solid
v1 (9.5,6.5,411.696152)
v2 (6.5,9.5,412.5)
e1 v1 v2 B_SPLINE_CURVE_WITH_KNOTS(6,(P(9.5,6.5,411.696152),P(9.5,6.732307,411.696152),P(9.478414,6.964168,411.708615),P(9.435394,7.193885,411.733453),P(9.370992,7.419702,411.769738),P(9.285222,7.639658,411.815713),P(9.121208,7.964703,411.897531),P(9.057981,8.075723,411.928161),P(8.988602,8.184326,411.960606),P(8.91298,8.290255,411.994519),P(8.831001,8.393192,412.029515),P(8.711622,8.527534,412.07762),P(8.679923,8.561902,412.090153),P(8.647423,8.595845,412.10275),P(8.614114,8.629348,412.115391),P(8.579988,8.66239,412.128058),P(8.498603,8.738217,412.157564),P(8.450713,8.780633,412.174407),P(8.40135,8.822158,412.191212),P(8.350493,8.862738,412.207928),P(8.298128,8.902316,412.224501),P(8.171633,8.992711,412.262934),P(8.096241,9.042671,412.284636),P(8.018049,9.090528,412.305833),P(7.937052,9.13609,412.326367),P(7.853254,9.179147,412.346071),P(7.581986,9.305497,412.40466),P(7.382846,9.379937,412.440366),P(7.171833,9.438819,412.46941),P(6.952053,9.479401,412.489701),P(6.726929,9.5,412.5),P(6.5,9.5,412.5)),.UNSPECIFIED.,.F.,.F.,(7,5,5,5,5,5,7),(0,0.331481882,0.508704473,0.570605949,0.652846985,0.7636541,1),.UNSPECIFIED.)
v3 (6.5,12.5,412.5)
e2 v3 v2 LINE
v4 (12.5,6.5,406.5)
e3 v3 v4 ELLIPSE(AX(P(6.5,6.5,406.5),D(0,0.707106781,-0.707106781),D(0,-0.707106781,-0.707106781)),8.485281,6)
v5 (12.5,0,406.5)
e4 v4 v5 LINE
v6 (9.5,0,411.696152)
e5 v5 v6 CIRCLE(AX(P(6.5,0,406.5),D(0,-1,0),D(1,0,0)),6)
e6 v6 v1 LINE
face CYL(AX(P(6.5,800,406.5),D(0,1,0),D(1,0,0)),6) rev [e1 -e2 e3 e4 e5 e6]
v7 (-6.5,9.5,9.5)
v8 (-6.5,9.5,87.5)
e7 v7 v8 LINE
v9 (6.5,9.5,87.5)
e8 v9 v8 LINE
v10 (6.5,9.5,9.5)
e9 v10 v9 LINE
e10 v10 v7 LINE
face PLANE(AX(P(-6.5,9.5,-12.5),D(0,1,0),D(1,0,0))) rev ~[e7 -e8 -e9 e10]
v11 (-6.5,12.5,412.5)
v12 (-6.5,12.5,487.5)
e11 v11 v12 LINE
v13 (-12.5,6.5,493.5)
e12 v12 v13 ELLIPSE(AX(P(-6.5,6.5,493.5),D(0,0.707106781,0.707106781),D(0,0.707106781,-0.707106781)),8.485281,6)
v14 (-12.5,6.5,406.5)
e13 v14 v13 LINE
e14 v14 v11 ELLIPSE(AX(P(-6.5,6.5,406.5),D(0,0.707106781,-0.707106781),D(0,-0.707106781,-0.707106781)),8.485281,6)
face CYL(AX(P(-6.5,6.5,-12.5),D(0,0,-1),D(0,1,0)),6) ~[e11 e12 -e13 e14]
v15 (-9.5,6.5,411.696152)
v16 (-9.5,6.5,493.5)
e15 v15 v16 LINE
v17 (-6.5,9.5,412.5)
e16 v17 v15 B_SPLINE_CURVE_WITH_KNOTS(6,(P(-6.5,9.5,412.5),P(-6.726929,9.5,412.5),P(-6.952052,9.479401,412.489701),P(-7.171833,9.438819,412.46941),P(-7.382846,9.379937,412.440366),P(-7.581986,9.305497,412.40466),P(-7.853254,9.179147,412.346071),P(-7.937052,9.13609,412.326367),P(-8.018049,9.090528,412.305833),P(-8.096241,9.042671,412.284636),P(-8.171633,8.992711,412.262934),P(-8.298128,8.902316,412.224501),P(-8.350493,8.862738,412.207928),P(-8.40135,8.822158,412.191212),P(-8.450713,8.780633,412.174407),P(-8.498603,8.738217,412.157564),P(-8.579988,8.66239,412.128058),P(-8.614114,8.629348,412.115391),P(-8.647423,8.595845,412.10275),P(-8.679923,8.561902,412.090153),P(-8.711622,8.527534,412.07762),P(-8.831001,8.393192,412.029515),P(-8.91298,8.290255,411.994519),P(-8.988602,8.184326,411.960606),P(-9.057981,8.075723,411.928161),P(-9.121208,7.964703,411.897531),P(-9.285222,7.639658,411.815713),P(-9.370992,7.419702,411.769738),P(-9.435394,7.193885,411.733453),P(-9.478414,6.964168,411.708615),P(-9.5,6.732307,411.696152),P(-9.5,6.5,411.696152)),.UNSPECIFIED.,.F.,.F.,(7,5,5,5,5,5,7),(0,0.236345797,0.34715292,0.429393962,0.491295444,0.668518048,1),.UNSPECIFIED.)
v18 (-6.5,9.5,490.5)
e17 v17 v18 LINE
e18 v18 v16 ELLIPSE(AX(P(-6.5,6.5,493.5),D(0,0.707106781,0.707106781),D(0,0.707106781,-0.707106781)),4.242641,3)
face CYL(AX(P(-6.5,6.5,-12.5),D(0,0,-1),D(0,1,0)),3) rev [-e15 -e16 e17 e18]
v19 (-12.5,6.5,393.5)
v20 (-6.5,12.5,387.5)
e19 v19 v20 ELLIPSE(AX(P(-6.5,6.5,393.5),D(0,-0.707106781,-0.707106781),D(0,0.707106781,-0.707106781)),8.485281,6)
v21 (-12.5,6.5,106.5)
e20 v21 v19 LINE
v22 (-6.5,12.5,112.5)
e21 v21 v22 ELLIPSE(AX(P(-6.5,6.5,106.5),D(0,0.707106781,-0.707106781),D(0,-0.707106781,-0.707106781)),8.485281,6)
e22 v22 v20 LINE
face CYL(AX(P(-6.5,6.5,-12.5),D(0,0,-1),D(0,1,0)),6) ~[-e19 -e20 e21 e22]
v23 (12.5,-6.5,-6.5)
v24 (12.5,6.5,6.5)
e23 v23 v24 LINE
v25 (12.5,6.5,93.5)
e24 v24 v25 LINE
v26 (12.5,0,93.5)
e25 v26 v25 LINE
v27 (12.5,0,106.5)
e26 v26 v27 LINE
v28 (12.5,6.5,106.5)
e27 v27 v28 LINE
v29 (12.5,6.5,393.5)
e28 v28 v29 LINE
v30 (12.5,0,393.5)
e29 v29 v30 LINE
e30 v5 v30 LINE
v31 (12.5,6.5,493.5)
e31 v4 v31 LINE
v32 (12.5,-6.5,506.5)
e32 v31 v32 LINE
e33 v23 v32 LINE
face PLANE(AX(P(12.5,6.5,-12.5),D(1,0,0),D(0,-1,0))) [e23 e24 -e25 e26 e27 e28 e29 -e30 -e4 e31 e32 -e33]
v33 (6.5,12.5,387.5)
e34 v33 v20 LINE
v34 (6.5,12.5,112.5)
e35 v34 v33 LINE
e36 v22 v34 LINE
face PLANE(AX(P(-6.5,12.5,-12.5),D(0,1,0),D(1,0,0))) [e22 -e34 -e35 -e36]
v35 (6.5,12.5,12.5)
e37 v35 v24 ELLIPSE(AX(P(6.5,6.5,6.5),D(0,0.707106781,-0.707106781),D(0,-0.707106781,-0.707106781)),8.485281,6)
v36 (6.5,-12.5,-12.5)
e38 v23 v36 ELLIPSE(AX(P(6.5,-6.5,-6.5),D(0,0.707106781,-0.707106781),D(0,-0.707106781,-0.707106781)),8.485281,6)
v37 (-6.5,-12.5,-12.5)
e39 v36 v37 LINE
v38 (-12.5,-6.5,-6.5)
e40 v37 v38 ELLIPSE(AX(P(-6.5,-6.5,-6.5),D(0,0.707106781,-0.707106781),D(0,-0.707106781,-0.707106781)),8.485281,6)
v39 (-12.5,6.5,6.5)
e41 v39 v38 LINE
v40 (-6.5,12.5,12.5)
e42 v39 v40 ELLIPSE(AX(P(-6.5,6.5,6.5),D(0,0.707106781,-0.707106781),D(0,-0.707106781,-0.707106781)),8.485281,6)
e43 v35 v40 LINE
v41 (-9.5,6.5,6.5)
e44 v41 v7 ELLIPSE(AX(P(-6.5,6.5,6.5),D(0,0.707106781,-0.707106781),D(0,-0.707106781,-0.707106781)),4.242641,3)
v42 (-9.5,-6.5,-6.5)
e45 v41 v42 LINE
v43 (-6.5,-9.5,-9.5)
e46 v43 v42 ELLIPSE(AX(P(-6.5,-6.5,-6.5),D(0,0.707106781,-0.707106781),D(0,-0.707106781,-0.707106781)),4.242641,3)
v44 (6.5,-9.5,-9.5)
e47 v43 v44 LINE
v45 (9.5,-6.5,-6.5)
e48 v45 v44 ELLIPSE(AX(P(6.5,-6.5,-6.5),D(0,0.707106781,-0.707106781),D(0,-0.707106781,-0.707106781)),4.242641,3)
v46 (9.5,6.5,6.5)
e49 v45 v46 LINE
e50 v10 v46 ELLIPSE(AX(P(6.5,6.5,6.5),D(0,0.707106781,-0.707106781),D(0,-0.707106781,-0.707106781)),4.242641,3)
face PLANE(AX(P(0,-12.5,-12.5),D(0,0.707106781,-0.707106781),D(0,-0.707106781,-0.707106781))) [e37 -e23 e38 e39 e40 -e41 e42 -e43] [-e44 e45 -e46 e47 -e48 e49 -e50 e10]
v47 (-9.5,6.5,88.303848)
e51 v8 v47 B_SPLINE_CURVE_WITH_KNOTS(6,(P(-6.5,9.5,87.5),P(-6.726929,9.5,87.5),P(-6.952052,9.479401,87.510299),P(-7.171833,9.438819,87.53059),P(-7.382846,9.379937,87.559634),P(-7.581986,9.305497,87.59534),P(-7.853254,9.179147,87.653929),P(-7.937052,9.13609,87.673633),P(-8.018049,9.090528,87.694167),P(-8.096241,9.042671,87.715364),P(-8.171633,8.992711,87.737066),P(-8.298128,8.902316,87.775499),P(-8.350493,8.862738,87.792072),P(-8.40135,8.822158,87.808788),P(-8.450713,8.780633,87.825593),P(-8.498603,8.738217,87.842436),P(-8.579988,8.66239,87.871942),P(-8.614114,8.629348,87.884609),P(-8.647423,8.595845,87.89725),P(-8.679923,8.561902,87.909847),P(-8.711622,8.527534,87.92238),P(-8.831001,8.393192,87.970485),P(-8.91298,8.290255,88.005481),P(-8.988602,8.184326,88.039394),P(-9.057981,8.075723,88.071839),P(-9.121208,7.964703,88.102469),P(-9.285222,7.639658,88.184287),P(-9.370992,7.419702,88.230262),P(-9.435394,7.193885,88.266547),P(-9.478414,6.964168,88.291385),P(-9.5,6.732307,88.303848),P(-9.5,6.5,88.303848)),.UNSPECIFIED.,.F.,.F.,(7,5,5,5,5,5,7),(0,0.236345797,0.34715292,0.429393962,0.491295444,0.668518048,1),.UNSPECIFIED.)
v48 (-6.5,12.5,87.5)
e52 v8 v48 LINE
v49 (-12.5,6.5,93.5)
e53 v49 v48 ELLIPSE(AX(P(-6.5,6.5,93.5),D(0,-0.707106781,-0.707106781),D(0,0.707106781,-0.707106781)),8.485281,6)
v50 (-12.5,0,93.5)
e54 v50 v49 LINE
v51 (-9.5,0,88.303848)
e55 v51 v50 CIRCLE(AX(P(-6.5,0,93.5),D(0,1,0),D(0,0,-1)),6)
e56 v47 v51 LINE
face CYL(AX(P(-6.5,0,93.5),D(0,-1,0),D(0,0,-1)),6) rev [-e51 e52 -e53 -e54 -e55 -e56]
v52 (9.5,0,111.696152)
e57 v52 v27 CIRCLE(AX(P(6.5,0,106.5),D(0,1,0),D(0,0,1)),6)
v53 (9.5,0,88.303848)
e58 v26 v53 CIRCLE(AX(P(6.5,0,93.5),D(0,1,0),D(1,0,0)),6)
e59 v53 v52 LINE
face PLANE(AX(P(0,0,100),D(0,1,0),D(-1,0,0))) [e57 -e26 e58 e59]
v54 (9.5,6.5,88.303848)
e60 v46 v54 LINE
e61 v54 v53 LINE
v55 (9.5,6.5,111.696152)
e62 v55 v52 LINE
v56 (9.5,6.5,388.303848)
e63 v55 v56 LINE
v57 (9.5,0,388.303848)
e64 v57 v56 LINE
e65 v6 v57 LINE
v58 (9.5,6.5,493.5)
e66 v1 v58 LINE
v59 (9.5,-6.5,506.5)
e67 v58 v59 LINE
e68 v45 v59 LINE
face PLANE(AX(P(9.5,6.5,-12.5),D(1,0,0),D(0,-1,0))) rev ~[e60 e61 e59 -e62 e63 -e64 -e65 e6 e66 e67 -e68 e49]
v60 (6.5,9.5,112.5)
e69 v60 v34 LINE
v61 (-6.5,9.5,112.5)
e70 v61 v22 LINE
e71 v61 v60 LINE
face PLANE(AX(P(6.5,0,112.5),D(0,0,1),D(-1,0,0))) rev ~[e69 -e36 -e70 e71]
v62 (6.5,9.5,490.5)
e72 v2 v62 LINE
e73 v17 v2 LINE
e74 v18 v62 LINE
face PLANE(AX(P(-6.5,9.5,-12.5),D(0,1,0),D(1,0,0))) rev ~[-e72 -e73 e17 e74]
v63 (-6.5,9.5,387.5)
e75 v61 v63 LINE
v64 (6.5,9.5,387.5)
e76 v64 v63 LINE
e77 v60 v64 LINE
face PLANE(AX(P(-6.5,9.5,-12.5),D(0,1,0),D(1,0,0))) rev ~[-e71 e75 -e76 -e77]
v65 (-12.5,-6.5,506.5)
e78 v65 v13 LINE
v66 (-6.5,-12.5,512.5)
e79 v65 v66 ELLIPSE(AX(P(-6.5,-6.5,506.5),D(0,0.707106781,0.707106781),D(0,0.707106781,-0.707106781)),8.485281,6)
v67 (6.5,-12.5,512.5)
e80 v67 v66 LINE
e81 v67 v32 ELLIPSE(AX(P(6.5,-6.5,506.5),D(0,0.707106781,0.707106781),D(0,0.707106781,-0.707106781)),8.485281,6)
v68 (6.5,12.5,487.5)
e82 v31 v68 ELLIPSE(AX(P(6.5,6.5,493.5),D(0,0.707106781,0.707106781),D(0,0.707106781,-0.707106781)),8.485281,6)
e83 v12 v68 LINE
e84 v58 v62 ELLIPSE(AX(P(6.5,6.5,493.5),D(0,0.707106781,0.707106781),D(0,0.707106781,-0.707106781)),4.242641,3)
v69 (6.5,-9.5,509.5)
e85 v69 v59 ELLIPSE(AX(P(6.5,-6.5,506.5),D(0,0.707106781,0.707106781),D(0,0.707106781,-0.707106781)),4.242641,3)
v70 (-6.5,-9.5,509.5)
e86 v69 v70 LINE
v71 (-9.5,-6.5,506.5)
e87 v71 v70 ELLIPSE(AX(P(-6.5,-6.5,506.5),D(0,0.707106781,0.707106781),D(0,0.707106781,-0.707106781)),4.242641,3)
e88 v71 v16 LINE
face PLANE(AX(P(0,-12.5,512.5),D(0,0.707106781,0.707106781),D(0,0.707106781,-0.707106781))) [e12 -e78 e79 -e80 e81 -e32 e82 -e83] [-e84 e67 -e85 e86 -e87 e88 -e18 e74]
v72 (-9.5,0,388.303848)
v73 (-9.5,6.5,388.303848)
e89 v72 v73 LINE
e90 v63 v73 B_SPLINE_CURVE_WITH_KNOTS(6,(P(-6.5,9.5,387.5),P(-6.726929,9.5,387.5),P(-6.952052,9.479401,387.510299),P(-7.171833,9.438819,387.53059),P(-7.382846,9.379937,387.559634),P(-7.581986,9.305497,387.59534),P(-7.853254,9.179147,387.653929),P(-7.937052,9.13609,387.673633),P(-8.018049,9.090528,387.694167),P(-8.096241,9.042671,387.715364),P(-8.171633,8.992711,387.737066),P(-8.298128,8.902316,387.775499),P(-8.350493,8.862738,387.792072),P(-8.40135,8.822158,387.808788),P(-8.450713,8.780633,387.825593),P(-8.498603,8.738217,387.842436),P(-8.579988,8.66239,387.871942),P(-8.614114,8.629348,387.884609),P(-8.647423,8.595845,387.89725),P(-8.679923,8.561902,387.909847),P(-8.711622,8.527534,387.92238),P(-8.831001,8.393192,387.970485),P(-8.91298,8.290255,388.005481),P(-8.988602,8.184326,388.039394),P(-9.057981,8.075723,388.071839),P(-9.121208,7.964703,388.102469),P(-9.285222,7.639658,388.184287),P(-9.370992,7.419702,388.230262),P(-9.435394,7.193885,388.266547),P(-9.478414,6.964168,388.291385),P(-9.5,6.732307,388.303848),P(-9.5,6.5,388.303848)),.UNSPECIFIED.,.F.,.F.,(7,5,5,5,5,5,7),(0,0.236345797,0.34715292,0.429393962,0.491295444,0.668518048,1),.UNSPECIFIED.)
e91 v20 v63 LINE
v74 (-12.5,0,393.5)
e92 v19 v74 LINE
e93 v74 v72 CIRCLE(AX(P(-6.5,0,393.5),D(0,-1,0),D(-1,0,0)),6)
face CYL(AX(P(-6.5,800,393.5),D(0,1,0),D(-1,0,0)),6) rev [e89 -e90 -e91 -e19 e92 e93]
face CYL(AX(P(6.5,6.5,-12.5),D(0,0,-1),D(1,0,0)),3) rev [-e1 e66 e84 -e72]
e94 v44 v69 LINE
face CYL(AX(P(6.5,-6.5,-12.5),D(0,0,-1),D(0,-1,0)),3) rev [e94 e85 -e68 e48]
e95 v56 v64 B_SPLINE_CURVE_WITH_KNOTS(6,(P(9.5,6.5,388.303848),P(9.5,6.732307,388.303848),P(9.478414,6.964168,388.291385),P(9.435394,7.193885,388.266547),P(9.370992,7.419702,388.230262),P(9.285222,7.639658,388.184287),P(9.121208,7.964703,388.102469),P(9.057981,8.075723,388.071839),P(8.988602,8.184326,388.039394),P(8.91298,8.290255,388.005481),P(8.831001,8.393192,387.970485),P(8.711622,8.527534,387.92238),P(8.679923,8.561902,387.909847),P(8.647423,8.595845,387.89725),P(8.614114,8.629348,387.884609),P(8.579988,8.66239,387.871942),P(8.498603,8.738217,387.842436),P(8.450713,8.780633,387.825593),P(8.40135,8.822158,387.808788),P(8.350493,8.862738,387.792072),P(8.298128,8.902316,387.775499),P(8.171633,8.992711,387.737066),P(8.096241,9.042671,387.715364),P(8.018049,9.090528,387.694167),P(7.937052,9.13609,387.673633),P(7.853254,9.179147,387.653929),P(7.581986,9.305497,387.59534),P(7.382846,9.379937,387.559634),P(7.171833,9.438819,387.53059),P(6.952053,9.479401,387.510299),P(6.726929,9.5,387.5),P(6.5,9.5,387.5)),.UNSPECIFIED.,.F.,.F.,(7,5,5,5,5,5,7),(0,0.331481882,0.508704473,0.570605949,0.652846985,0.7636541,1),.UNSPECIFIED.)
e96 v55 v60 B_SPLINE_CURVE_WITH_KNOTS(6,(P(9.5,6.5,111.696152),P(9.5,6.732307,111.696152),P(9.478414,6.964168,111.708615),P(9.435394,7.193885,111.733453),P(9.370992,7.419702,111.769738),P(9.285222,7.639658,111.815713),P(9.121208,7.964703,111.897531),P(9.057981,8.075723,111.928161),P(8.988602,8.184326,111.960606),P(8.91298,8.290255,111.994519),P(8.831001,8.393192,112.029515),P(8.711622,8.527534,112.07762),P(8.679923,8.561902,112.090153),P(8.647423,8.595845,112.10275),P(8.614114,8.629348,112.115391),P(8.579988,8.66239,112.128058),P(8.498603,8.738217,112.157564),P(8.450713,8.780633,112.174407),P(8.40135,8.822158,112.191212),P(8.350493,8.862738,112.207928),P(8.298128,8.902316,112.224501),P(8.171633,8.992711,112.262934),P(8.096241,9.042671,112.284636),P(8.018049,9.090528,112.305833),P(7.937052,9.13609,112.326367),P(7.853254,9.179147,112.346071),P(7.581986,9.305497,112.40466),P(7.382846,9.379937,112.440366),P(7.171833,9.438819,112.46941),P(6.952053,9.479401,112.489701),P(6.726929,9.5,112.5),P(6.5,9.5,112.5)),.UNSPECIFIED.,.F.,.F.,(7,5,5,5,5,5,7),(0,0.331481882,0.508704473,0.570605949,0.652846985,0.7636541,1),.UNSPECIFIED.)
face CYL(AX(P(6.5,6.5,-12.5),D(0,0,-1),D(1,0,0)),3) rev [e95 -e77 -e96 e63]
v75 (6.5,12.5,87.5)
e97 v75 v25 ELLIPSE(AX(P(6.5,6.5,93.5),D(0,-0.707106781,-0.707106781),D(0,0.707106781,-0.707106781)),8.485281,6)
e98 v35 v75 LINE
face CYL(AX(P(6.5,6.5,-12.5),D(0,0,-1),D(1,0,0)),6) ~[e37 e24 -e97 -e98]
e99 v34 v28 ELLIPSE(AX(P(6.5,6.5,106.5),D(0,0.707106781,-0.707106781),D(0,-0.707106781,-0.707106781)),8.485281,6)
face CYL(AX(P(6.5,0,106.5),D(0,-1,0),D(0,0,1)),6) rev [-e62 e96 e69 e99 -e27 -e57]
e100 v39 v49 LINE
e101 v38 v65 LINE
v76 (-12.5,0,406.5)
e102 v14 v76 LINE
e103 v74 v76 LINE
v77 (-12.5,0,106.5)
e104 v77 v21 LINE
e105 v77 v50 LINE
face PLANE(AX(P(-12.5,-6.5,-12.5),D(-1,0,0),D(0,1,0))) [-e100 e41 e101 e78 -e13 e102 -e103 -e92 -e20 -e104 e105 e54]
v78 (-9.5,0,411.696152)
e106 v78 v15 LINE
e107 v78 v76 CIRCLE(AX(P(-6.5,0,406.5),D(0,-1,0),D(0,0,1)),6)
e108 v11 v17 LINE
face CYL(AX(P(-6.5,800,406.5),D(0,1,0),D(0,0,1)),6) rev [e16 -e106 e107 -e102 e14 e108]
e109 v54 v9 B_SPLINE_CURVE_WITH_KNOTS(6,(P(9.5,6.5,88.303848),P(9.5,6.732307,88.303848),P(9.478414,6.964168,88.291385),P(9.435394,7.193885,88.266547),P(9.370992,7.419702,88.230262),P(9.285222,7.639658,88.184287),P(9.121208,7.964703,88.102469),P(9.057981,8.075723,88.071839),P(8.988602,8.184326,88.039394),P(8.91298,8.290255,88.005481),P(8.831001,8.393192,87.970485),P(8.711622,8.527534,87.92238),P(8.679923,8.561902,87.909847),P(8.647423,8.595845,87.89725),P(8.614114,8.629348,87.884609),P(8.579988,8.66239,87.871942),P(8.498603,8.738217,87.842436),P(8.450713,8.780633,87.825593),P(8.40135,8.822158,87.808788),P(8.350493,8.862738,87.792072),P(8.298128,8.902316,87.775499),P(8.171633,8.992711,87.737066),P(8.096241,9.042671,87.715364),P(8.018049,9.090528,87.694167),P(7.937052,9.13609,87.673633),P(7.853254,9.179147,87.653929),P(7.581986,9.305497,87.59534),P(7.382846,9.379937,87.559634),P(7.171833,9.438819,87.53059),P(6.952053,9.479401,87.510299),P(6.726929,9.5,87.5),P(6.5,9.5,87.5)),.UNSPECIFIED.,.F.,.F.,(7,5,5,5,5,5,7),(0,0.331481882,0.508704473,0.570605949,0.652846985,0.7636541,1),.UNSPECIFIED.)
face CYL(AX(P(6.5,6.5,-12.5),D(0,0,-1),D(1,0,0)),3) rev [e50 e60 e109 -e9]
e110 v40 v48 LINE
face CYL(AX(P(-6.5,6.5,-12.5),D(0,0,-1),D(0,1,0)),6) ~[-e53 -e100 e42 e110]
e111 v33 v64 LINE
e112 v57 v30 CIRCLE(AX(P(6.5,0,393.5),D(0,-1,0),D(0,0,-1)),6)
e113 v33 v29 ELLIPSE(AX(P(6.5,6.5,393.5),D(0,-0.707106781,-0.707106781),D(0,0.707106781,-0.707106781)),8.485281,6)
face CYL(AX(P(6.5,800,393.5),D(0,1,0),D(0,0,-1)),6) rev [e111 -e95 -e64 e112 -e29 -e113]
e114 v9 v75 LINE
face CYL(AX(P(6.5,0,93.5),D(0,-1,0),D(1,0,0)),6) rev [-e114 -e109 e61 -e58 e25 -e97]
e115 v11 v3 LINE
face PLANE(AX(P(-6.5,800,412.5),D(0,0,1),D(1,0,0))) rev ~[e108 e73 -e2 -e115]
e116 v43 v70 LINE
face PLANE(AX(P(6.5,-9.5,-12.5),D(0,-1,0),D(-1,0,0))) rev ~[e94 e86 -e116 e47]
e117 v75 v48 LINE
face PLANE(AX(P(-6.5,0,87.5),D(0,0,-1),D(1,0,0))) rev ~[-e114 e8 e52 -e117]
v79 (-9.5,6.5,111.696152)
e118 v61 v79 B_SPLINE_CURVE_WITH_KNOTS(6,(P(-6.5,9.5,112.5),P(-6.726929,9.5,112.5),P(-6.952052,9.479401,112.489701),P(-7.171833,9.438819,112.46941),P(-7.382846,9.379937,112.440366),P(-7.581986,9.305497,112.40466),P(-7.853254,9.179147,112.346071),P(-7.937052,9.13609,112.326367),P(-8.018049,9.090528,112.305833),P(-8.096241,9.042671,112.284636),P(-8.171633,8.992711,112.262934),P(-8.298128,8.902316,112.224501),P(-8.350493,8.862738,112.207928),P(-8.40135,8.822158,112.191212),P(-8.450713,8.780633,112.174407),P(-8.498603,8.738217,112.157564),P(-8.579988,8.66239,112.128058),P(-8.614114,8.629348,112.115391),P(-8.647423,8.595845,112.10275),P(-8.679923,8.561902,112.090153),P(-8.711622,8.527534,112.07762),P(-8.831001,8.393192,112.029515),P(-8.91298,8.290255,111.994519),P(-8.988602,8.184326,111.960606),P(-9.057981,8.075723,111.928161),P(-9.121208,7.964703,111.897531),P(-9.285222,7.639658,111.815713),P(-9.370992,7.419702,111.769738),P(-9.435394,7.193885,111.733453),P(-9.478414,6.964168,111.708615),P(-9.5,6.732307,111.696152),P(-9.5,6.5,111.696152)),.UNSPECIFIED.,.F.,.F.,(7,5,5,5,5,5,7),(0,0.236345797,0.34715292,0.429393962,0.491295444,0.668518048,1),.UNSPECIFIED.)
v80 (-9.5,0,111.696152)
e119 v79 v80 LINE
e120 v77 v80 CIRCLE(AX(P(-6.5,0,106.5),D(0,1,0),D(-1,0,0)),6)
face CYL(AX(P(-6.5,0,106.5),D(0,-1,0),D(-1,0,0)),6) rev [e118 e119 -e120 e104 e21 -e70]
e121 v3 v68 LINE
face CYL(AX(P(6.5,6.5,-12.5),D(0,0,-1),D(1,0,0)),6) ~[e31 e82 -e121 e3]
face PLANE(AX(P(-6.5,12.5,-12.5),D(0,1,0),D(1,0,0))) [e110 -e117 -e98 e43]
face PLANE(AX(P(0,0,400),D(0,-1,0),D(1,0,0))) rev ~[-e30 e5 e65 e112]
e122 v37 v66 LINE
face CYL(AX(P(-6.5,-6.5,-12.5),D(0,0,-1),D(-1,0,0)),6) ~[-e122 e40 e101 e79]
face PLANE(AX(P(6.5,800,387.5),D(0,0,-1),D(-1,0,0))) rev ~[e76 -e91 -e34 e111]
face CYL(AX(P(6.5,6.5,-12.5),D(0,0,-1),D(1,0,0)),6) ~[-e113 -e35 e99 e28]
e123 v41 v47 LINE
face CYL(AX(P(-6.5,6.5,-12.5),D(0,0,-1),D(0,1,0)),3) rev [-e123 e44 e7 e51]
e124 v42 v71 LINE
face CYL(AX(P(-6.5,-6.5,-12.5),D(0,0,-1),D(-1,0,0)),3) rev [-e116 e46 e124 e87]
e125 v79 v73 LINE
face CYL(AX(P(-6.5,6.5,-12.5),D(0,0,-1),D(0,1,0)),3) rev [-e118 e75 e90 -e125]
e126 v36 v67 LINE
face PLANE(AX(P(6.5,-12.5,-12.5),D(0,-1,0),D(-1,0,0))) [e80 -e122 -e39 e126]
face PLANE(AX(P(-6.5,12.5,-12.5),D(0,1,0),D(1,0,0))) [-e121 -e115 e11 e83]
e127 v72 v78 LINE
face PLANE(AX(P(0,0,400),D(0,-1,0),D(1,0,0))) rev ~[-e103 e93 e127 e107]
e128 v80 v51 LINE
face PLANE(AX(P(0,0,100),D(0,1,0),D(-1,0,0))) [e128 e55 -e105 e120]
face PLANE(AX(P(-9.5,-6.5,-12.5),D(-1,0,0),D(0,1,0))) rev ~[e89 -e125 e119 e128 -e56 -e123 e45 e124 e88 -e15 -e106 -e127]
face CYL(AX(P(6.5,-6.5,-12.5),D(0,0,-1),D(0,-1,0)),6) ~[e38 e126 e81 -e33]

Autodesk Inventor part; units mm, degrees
ref_plane "Start plane" through (0, 0, -12.5) normal (0, 0, 1) x (1, 0, 0)
ref_plane "End plane" through (0, 0, 512.5) normal (0, 0, 1) x (1, 0, 0)
sketch "Sketch" plane through (0, 0, 0) normal (0, 0, 1) x (1, 0, 0)
  line L0 (-12.5, -6.5) -> (-12.5, 6.5)
  line L1 (-6.5, 12.5) -> (6.5, 12.5)
  line L2 (12.5, 6.5) -> (12.5, -6.5)
  line L3 (6.5, -12.5) -> (-6.5, -12.5)
  arc A0 (-12.5, -6.5) -> (-6.5, -12.5) centre (-6.5, -6.5) ccw
  arc A1 (-6.5, 12.5) -> (-12.5, 6.5) centre (-6.5, 6.5) ccw
  arc A2 (12.5, 6.5) -> (6.5, 12.5) centre (6.5, 6.5) ccw
  arc A3 (6.5, -12.5) -> (12.5, -6.5) centre (6.5, -6.5) ccw
  arc A4 (-6.5, 9.5) -> (-9.5, 6.5) centre (-6.5, 6.5) ccw
  line L4 (-6.5, 9.5) -> (6.5, 9.5)
  arc A5 (9.5, 6.5) -> (6.5, 9.5) centre (6.5, 6.5) ccw
  line L5 (9.5, 6.5) -> (9.5, -6.5)
  arc A6 (6.5, -9.5) -> (9.5, -6.5) centre (6.5, -6.5) ccw
  line L6 (6.5, -9.5) -> (-6.5, -9.5)
  arc A7 (-9.5, -6.5) -> (-6.5, -9.5) centre (-6.5, -6.5) ccw
  line L7 (-9.5, -6.5) -> (-9.5, 6.5)
  line L8 (0, 19.2397) -> (0, -19.2397) construction
  line L9 (-19.2397, 0) -> (19.2397, 0) construction
  dimension "d7" = 6
  dimension "d10" = 25
  dimension "d11" = 25
  dimension "d12" = 3
  dimension "d15" = 12.5
  dimension "d16" = 12.5
extrude "Body" add sketch "Sketch" along normal up to surface (525 mm away) from surface at -12.5
sketch "Sketch3" plane through (0, 0, 0) normal (0, 0, 1) x (1, 0, 0)
  line L0 (0, 0) -> (10, 0)
ref_plane "Work Plane3" through (0, 0, 0) normal (0, -1, 0) x (1, 0, 0)
sketch "Sketch4" plane through (0, 0, 0) normal (0, -1, 0) x (1, 0, 0)
  line L0 (-2, -12.5) -> (12, -12.5)
  line L1 (-2, 512.5) -> (12, 512.5)
  dimension "d18" = 525
ref_plane "Work Plane4" through (112.5, 0, -12.5) normal (0, 0, -1) x (-1, 0, 0)
split "Split1" plane through (112.5, 0, -12.5) removes the side toward (0, 0, -1)
ref_plane "Work Plane5" through (0, -12.5, 512.5) normal (0, 0.7071, 0.7071) x (1, 0, 0)
split "Split2" plane through (0, -12.5, 512.5) removes the side toward (0, 0.7071, 0.7071)
ref_plane "Work Plane6" through (0, -12.5, -12.5) normal (0, 0.7071, -0.7071) x (1, 0, 0)
split "Split3" plane through (0, -12.5, -12.5) removes the side toward (0, 0.7071, -0.7071)
ref_plane "Work Plane7" through (0, 800, 400) normal (0, -1, 0) x (1, 0, 0)
ref_plane "Work Plane8" through (0, 0, 400) normal (0, -1, 0) x (1, 0, 0)
ref_plane "Work Plane9" through (0, 400, 400) normal (0, -1, 0) x (1, 0, 0)
sketch "Sketch5" plane through (0, 400, 400) normal (0, -1, 0) x (1, 0, 0)
  arc A0 (-12.5, -6.5) -> (-6.5, -12.5) centre (-6.5, -6.5) ccw
  line L0 (-12.5, -6.5) -> (-12.5, 6.5)
  arc A1 (-6.5, 12.5) -> (-12.5, 6.5) centre (-6.5, 6.5) ccw
  line L1 (-6.5, 12.5) -> (6.5, 12.5)
  arc A2 (12.5, 6.5) -> (6.5, 12.5) centre (6.5, 6.5) ccw
  line L2 (12.5, 6.5) -> (12.5, -6.5)
  arc A3 (6.5, -12.5) -> (12.5, -6.5) centre (6.5, -6.5) ccw
  line L3 (6.5, -12.5) -> (-6.5, -12.5)
  arc A4 (-6.5, 9.5) -> (-9.5, 6.5) centre (-6.5, 6.5) ccw
  line L4 (-6.5, 9.5) -> (6.5, 9.5)
  arc A5 (9.5, 6.5) -> (6.5, 9.5) centre (6.5, 6.5) ccw
  line L5 (9.5, 6.5) -> (9.5, -6.5)
  arc A6 (6.5, -9.5) -> (9.5, -6.5) centre (6.5, -6.5) ccw
  line L6 (6.5, -9.5) -> (-6.5, -9.5)
  arc A7 (-9.5, -6.5) -> (-6.5, -9.5) centre (-6.5, -6.5) ccw
  line L7 (-9.5, -6.5) -> (-9.5, 6.5)
extrude "Extrusion2" cut sketch "Sketch5" along normal up to surface (800 mm away) from surface at -400 contours L0 A1 L1 A2 L2 A3 L3 A0 | L4 A5 L5 A6 L6 A7 L7 A4
ref_plane "Work Plane10" through (0, 0, 100) normal (0, 1, 0) x (-1, 0, 0)
ref_plane "Work Plane11" through (0, 800, 100) normal (0, 1, 0) x (-1, 0, 0)
ref_plane "Work Plane12" through (0, 400, 100) normal (0, 1, 0) x (-1, 0, 0)
sketch "Sketch6" plane through (0, 400, 100) normal (0, 1, 0) x (-1, 0, 0)
  arc A0 (-12.5, -6.5) -> (-6.5, -12.5) centre (-6.5, -6.5) ccw
  line L0 (-12.5, -6.5) -> (-12.5, 6.5)
  arc A1 (-6.5, 12.5) -> (-12.5, 6.5) centre (-6.5, 6.5) ccw
  line L1 (-6.5, 12.5) -> (6.5, 12.5)
  arc A2 (12.5, 6.5) -> (6.5, 12.5) centre (6.5, 6.5) ccw
  line L2 (12.5, 6.5) -> (12.5, -6.5)
  arc A3 (6.5, -12.5) -> (12.5, -6.5) centre (6.5, -6.5) ccw
  line L3 (6.5, -12.5) -> (-6.5, -12.5)
  arc A4 (-6.5, 9.5) -> (-9.5, 6.5) centre (-6.5, 6.5) ccw
  line L4 (-6.5, 9.5) -> (6.5, 9.5)
  arc A5 (9.5, 6.5) -> (6.5, 9.5) centre (6.5, 6.5) ccw
  line L5 (9.5, 6.5) -> (9.5, -6.5)
  arc A6 (6.5, -9.5) -> (9.5, -6.5) centre (6.5, -6.5) ccw
  line L6 (6.5, -9.5) -> (-6.5, -9.5)
  arc A7 (-9.5, -6.5) -> (-6.5, -9.5) centre (-6.5, -6.5) ccw
  line L7 (-9.5, -6.5) -> (-9.5, 6.5)
extrude "Extrusion3" cut sketch "Sketch6" along normal up to surface (800 mm away) from surface at -400 contours L0 A1 L1 A2 L2 A3 L3 A0 | L4 A5 L5 A6 L6 A7 L7 A4
equation "\"d7\" = G_IR"
equation "\"d10\" = G_H"
equation "\"d11\" = G_W"
equation "\"d12\" = G_T"
equation "\"d15\" = 0.5 * d10"
equation "\"d16\" = 0.5 * d11"
equation "\"d3\" = G_L"
equation "\"G_W\" = 25"
equation "\"G_H\" = 25"
equation "\"G_T\" = 3"
equation "\"G_IR\" = 6"
equation "\"G_L\" = d18"
equation "\"G_OFFSET_START\" = 12.5"
equation "\"G_OFFSET_END\" = 12.5"
equation "\"d13\" = -G_OFFSET_START"
equation "\"d14\" = G_OFFSET_END + B_L"
equation "\"B_L\" = 500"
properties part number "AS 1163 - C350L0 25x25x3.0 SHS - 525" material "Steel, Mild"
